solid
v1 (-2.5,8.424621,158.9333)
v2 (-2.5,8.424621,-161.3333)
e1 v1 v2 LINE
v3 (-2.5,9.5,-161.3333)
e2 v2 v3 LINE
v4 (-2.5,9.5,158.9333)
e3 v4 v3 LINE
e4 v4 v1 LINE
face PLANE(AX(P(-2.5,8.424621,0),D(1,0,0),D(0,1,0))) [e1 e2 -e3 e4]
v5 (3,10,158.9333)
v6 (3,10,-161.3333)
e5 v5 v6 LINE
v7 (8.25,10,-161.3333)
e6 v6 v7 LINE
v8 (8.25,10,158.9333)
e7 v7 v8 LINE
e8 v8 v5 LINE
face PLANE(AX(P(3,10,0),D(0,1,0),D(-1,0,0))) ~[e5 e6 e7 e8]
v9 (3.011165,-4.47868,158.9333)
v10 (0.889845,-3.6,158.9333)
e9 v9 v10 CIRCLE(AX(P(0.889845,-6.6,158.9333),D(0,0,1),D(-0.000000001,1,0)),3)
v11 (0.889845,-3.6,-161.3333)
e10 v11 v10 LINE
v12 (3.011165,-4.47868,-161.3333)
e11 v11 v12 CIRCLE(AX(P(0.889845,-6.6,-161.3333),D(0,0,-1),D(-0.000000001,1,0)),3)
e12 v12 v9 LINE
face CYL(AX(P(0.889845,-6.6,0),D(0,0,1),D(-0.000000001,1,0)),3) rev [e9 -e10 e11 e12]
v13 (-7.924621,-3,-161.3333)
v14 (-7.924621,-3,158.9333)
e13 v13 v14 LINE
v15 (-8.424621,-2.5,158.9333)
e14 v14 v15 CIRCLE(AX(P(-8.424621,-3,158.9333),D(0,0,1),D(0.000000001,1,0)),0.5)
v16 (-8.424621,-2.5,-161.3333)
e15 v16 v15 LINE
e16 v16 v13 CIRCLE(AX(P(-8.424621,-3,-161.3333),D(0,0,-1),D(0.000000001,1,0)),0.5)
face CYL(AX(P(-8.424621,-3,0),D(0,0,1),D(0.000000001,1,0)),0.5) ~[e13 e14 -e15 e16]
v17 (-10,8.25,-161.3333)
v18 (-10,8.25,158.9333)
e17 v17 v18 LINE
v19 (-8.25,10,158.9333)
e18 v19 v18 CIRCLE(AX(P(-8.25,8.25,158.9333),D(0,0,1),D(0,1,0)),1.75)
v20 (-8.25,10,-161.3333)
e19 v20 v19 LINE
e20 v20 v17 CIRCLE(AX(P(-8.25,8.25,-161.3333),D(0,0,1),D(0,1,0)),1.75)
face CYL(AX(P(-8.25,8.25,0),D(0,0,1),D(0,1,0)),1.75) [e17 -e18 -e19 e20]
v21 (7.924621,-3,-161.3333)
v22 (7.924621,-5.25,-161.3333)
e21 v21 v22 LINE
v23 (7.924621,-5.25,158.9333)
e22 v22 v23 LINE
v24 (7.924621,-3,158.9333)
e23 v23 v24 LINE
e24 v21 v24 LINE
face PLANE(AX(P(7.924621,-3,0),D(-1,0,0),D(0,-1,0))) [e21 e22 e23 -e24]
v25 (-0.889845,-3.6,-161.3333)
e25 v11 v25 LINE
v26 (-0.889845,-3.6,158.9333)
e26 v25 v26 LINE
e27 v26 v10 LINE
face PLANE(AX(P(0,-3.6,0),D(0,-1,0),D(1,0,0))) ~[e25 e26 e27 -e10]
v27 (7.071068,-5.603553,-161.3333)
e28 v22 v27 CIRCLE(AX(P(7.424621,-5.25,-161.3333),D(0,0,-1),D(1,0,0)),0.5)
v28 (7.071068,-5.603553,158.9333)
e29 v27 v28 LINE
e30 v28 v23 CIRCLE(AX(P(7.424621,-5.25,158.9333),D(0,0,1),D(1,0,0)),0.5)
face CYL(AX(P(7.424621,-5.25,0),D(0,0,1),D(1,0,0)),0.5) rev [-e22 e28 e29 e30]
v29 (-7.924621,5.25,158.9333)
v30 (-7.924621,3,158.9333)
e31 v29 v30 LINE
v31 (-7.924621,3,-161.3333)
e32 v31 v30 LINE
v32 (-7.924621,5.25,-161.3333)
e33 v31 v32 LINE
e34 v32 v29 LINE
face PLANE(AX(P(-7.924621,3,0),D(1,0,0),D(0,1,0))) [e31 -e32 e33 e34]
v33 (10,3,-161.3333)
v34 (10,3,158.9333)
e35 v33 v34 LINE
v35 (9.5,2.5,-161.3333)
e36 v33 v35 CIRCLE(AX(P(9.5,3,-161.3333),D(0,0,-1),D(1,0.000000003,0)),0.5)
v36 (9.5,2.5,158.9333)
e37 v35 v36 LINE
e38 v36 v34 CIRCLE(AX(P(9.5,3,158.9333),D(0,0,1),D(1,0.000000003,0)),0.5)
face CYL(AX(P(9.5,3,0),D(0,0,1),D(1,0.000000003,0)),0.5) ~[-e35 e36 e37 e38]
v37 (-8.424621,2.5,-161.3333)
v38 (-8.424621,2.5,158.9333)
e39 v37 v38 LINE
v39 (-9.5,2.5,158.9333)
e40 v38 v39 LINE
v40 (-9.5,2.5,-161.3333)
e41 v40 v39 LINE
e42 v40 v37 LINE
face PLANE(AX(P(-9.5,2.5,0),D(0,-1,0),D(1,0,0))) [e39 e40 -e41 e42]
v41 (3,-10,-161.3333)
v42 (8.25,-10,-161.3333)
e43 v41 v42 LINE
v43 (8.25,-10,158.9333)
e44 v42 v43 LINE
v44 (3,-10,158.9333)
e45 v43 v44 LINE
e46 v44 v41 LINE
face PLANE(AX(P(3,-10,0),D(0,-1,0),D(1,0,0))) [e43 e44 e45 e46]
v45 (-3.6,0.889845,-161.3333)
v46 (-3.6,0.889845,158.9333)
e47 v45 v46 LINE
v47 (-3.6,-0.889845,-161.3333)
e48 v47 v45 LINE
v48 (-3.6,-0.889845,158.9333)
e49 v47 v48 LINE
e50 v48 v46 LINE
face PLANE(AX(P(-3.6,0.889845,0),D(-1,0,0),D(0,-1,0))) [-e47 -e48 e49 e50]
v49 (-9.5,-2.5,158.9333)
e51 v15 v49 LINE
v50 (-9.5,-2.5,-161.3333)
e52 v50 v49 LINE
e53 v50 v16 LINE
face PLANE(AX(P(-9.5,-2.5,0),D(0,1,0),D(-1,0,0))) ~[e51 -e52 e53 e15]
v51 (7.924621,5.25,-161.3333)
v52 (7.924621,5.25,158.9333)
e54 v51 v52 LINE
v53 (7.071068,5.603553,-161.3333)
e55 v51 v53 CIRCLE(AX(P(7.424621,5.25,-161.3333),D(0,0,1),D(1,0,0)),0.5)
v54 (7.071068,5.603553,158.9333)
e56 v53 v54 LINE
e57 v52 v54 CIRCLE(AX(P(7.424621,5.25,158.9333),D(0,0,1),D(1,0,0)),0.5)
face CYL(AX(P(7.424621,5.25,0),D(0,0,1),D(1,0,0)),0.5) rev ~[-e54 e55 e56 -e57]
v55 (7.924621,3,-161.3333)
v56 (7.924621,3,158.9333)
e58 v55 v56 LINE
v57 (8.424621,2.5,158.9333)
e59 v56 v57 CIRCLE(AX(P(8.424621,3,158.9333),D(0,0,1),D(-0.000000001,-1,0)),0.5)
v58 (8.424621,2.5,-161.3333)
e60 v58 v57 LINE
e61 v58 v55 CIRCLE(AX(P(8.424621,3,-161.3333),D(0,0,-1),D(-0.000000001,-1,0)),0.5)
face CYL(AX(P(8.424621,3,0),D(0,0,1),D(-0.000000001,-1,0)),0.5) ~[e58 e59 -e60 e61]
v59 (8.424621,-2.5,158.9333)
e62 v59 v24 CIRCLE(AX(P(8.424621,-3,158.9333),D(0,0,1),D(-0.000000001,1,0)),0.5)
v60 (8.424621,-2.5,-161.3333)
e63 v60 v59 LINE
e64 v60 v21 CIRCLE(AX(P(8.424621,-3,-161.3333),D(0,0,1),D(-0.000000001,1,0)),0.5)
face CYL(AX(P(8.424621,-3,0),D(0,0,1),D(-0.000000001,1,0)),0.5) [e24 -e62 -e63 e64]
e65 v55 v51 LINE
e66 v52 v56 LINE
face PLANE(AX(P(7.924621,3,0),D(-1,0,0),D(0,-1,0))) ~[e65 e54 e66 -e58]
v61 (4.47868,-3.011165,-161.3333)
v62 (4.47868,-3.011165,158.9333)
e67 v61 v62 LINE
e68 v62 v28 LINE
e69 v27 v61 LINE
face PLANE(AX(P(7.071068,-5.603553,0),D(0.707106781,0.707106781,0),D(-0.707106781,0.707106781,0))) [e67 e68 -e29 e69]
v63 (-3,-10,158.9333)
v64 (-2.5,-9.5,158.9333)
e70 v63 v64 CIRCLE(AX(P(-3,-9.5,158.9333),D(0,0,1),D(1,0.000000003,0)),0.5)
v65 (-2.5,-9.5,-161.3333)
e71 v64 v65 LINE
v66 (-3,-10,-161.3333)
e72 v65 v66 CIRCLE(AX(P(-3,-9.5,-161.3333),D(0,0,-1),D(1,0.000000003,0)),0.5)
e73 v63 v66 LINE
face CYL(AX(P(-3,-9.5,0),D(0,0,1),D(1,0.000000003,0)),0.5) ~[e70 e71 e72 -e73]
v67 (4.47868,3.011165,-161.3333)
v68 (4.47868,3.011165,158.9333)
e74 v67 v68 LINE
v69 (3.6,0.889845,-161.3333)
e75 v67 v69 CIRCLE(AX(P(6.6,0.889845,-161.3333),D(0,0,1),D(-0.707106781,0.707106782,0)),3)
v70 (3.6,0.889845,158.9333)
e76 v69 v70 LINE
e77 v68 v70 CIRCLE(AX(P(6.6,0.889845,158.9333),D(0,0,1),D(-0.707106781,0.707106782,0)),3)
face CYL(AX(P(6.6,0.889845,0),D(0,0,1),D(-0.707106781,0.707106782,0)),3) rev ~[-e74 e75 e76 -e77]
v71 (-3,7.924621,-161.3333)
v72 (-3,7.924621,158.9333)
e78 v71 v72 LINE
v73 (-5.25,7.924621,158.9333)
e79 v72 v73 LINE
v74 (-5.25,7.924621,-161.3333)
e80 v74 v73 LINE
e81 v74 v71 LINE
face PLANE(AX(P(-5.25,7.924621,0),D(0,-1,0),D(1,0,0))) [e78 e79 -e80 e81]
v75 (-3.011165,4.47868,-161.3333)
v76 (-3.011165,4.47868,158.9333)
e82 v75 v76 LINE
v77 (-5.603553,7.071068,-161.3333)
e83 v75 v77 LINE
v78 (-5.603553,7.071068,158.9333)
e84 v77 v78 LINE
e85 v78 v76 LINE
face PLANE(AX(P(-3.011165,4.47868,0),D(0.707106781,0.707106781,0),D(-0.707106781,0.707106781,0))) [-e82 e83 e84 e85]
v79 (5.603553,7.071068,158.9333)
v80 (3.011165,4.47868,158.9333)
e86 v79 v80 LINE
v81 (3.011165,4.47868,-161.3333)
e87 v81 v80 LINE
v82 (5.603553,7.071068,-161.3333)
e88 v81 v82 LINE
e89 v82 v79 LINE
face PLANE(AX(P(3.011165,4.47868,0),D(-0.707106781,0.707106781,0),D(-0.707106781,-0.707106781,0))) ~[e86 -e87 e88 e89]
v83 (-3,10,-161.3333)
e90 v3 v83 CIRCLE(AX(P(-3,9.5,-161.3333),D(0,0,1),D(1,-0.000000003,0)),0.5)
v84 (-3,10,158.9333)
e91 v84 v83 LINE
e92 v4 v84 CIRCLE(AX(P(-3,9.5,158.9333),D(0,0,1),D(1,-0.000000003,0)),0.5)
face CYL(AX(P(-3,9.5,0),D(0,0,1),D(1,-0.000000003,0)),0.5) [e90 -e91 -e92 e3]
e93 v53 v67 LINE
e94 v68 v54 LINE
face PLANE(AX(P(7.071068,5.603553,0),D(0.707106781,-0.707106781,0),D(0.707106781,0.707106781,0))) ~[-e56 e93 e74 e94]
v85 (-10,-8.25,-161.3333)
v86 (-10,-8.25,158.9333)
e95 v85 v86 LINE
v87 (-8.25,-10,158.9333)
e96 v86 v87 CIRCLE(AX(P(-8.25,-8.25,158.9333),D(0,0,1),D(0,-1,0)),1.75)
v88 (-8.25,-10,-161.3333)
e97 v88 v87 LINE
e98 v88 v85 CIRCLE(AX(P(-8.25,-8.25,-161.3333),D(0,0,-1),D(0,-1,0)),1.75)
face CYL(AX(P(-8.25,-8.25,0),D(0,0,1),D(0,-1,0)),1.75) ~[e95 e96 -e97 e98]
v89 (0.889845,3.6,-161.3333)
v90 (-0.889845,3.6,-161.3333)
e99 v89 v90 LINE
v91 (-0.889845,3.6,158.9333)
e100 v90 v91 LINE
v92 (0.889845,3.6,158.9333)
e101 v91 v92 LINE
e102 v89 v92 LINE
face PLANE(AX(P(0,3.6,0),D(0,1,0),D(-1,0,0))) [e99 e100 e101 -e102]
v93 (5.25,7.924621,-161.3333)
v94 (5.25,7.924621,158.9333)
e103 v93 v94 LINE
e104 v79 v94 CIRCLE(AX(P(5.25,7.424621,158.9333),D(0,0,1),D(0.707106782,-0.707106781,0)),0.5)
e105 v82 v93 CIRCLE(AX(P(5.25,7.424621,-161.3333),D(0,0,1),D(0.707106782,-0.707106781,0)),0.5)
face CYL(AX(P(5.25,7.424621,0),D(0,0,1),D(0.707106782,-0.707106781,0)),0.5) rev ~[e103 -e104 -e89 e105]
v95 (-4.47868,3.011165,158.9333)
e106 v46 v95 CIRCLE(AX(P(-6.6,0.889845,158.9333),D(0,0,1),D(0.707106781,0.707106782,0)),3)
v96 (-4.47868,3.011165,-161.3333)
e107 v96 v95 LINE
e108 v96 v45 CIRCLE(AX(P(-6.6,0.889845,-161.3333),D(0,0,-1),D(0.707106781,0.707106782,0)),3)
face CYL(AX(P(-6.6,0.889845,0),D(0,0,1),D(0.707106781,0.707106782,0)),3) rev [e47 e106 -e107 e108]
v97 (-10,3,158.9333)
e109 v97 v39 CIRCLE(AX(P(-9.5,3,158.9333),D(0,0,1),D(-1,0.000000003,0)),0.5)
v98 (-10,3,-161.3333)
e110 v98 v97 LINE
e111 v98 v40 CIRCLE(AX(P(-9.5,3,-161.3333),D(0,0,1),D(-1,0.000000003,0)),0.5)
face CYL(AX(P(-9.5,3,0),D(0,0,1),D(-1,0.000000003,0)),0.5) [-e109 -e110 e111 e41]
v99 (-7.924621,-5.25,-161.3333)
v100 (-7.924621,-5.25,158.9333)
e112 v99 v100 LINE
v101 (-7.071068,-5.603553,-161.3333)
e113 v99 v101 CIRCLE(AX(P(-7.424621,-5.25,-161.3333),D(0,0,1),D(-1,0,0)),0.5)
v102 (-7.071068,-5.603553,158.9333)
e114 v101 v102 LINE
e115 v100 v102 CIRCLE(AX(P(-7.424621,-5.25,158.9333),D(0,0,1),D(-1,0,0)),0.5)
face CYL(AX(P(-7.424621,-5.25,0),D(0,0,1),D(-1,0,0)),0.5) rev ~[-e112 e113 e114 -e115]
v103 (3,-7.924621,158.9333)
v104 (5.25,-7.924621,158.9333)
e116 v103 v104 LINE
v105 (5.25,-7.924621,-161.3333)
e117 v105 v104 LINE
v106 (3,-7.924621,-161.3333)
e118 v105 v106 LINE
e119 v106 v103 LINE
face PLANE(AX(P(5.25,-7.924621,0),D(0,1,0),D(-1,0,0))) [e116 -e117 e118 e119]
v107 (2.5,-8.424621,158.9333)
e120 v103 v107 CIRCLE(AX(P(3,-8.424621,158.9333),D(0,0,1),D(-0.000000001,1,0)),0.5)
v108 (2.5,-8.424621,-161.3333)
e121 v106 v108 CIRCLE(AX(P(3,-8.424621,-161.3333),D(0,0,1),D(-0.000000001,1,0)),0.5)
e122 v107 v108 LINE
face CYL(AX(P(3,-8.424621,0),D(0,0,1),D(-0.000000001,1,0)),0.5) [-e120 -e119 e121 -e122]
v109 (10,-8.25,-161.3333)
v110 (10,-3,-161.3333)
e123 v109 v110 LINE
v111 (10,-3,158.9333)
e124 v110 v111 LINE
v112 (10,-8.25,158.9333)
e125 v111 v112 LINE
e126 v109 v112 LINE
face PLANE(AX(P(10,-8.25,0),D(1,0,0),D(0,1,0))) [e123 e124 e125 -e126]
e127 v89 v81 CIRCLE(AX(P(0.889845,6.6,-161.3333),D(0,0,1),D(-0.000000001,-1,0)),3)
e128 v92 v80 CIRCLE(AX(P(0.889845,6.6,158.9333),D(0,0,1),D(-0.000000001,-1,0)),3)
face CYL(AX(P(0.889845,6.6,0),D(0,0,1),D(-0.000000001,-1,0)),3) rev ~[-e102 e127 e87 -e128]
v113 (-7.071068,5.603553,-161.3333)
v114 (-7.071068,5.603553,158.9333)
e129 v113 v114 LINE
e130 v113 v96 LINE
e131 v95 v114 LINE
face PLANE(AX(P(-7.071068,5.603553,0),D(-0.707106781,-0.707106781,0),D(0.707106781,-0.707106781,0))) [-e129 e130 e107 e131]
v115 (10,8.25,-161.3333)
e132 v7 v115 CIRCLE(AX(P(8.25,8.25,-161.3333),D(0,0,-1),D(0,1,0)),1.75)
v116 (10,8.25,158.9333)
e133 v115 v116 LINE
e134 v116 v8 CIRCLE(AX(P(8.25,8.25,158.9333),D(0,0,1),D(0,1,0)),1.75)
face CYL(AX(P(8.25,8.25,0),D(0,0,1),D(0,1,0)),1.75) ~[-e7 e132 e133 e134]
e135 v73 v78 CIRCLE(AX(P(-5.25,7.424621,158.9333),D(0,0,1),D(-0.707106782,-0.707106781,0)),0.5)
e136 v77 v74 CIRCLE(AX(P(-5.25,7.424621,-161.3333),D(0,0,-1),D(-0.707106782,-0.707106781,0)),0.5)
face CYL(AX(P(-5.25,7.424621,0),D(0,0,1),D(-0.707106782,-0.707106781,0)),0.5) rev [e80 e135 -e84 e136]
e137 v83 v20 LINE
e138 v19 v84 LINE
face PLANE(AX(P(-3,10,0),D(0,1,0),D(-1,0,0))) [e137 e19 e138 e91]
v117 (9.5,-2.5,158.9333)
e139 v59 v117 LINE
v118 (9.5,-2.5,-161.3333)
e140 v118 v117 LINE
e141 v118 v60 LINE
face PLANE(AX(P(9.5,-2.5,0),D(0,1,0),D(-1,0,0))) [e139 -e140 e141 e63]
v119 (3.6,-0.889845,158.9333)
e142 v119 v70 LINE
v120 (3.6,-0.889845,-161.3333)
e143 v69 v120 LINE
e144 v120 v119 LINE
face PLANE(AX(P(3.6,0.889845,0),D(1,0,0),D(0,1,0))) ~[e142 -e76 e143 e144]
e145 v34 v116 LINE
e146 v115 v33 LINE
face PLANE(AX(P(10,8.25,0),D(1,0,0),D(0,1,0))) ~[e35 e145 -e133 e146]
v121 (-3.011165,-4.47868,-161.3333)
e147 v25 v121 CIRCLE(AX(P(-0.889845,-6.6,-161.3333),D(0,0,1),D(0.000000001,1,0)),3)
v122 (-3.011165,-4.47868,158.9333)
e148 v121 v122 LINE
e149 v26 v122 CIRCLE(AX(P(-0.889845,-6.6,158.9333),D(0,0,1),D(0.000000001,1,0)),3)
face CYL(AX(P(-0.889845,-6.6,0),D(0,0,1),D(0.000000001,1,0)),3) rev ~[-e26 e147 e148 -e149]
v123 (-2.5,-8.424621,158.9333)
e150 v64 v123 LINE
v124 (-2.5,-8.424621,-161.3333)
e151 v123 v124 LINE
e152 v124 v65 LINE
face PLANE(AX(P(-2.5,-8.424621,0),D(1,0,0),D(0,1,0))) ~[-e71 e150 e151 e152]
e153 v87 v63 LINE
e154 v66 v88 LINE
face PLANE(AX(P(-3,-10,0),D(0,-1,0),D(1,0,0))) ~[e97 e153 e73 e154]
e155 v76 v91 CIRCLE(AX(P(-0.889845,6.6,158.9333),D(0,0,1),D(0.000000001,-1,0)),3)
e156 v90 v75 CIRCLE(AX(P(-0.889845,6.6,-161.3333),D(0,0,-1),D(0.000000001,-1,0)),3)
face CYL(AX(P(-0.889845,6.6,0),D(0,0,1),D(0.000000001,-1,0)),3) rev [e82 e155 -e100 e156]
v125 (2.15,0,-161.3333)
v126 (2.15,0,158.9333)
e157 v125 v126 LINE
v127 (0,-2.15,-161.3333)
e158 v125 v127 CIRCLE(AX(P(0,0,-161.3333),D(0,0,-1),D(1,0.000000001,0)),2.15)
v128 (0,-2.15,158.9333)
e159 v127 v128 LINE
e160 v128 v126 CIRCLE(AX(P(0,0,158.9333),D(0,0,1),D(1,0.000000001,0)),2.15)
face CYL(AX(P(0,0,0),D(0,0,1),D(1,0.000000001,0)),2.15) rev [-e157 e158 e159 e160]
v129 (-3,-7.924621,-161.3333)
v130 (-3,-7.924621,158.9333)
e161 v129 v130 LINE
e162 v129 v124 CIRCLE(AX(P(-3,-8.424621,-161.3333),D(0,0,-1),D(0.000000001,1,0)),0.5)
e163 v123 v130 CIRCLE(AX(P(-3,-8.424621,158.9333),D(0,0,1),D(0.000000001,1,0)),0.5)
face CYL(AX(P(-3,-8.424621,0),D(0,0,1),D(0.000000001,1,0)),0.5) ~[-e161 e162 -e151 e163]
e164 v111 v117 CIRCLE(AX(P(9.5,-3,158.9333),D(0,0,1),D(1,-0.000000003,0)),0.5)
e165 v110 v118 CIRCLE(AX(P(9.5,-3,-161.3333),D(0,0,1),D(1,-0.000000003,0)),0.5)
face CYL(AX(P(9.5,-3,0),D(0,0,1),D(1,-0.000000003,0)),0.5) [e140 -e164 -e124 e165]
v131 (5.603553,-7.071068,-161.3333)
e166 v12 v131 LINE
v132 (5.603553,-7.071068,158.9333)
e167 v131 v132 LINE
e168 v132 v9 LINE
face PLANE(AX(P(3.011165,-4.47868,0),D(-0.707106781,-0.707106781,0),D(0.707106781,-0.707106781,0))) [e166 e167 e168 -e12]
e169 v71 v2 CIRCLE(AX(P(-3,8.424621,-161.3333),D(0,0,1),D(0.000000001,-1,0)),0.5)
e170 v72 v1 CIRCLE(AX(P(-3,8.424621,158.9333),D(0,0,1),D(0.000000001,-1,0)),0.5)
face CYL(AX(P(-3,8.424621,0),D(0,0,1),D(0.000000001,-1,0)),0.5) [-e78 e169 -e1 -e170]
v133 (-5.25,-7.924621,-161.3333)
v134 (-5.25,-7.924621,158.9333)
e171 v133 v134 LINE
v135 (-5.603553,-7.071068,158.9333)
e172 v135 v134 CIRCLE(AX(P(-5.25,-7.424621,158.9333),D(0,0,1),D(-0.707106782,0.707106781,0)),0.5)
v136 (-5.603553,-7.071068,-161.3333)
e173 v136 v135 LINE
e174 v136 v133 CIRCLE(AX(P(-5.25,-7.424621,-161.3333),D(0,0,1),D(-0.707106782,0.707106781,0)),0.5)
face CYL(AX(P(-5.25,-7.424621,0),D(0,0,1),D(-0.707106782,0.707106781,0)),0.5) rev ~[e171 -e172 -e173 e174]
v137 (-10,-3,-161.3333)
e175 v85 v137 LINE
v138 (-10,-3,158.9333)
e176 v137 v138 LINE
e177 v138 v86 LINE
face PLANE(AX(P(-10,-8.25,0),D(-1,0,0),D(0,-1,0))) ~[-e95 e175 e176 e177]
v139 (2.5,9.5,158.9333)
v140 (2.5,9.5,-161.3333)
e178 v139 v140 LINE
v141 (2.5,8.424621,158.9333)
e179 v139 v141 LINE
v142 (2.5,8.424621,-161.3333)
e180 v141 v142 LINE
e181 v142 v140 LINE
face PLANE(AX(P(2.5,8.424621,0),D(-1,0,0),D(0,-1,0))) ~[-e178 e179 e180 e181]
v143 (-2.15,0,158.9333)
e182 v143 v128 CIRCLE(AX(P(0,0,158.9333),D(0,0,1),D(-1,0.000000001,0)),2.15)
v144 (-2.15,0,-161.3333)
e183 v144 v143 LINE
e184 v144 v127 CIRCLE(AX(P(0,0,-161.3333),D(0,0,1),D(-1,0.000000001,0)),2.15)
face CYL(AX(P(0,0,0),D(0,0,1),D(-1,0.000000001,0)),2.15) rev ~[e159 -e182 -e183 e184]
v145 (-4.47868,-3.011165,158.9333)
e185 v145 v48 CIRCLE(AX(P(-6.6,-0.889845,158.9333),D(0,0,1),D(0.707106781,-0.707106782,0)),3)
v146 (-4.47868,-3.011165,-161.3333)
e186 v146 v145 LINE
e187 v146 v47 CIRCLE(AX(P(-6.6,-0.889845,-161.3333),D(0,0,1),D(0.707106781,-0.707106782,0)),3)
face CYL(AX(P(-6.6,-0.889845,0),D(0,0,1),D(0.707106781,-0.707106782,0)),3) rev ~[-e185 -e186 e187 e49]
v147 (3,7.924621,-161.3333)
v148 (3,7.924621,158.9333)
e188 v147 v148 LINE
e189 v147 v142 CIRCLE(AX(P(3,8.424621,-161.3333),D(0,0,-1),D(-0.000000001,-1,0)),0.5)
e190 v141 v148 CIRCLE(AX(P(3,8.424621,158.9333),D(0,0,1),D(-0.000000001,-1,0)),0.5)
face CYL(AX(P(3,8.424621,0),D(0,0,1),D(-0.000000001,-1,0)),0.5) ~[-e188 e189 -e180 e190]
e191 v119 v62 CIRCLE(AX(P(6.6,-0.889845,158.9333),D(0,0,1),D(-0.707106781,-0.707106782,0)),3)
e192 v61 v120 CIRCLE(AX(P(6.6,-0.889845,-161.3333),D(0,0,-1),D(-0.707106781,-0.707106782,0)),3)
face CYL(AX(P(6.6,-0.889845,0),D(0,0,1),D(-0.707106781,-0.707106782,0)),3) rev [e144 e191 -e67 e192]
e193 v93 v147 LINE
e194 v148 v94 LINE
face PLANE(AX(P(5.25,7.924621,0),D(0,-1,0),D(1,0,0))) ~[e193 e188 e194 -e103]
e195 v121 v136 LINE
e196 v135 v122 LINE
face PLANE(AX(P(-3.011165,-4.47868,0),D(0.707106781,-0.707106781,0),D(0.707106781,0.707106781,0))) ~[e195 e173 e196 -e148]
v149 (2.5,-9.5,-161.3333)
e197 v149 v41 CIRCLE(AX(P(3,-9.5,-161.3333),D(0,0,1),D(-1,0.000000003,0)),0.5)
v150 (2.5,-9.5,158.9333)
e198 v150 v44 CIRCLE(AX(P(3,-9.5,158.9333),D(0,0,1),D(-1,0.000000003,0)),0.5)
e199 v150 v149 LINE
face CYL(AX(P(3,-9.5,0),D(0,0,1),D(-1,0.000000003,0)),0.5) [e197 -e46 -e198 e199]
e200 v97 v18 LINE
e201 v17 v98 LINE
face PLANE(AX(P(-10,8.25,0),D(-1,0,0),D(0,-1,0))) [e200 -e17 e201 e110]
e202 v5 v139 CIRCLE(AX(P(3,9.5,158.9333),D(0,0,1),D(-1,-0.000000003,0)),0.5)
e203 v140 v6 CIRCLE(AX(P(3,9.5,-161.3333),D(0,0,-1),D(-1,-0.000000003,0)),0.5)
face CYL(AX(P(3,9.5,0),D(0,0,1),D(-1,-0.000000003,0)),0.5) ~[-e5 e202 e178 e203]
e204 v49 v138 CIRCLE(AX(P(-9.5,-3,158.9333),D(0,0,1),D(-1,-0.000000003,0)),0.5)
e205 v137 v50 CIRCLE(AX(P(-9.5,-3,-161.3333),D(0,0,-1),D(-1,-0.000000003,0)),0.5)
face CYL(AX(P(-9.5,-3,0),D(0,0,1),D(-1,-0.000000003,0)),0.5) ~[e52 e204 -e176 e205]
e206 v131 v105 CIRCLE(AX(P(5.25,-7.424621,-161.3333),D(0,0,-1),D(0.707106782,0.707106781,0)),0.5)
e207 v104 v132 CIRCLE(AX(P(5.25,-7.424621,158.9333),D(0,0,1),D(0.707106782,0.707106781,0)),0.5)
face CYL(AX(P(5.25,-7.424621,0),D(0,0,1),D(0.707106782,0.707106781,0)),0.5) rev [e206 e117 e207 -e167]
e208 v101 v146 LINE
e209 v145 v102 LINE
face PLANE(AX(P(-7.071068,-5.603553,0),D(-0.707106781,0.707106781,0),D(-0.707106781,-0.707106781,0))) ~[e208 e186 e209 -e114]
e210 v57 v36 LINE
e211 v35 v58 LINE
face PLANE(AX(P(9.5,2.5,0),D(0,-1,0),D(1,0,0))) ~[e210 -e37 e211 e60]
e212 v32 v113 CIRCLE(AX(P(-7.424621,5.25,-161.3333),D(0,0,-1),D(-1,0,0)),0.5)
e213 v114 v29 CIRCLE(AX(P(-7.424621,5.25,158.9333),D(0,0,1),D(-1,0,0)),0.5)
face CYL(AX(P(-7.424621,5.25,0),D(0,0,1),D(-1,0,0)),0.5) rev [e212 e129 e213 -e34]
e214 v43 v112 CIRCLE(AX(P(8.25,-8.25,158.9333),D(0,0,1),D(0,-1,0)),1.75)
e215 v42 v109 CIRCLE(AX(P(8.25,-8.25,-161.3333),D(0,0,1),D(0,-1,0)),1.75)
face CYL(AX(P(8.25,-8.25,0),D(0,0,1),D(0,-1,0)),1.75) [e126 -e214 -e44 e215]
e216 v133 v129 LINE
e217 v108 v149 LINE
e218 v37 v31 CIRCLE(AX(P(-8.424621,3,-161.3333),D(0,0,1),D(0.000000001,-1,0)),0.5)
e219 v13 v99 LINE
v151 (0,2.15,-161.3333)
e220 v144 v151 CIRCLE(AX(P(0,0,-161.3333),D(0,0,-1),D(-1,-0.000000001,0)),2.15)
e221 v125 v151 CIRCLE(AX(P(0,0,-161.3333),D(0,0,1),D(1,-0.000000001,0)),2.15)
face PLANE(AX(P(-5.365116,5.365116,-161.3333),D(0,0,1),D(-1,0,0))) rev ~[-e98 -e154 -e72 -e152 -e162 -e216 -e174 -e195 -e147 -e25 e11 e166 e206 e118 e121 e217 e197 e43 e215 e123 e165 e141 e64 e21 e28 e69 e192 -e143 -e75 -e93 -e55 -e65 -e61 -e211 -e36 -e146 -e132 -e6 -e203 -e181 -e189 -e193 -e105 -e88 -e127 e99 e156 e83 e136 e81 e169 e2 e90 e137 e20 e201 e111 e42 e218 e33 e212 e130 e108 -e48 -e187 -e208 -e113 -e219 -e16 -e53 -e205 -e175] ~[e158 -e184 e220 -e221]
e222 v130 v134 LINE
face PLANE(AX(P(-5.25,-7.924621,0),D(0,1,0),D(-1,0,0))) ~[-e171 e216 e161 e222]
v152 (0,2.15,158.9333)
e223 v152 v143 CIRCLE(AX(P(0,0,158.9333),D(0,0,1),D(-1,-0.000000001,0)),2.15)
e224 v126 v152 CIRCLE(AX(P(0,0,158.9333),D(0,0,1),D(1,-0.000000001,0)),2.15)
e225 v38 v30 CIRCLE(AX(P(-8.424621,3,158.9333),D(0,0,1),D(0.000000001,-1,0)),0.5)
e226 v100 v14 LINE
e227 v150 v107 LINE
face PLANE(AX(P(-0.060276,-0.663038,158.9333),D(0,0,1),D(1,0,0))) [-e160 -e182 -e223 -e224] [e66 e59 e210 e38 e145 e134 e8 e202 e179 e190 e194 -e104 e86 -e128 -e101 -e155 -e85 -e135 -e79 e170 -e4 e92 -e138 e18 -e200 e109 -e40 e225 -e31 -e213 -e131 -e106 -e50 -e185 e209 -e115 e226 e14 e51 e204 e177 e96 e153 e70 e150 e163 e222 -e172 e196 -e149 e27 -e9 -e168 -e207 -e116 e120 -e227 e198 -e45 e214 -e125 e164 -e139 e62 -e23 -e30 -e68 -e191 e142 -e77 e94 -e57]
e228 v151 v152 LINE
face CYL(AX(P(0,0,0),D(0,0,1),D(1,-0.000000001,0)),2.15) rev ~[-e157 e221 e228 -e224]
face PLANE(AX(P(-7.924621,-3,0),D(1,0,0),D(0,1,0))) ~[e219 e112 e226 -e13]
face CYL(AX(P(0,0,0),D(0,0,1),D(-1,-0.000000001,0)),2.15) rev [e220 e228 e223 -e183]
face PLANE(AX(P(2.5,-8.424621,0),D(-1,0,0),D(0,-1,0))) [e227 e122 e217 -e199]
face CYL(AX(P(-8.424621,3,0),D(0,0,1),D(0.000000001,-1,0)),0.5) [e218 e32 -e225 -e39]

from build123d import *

# Parameters (mm, degrees)
BOSS_EXTRUDE1_DEPTH = 161.3333
SKETCH5_W           = 27.787302718
SKETCH5_H           = 26.03929452
CUT_EXTRUDE1_DEPTH  = 2.4


with BuildPart() as part:
    # Sketch4 → Boss-Extrude1 (new, symmetric)
    with BuildSketch(Plane.XY):
        with BuildLine():
            Line((3, -10), (8.25, -10))
            ThreePointArc((8.25, -10), (9.487436867, -9.487436867), (10, -8.25))
            Line((10, -8.25), (10, -3))
            ThreePointArc((10, -3), (9.853553391, -2.646446609), (9.5, -2.5))
            Line((9.5, -2.5), (8.424621202, -2.5))
            ThreePointArc((8.424621202, -2.5), (8.071067812, -2.646446609), (7.924621202, -3))
            Line((7.924621202, -3), (7.924621202, -5.25))
            ThreePointArc((7.924621202, -5.25), (7.615962919, -5.711939766), (7.071067812, -5.603553391))
            Line((7.071067812, -5.603553391), (4.478679656, -3.011165235))
            ThreePointArc((4.478679656, -3.011165235), (3.828361402, -2.037895189), (3.6, -0.889844892))
            Line((3.6, -0.889844892), (3.6, 0))
            Line((3.6, 0), (2.15, 0))
            ThreePointArc((2.15, 0), (1.52027958, -1.52027958), (0, -2.15))
            Line((0, -2.15), (0, -3.6))
            Line((0, -3.6), (0.889844892, -3.6))
            ThreePointArc((0.889844892, -3.6), (2.037895189, -3.828361402), (3.011165235, -4.478679656))
            Line((3.011165235, -4.478679656), (5.603553391, -7.071067812))
            ThreePointArc((5.603553391, -7.071067812), (5.711939766, -7.615962919), (5.25, -7.924621202))
            Line((5.25, -7.924621202), (3, -7.924621202))
            ThreePointArc((3, -7.924621202), (2.646446609, -8.071067812), (2.5, -8.424621202))
            Line((2.5, -8.424621202), (2.5, -9.5))
            ThreePointArc((2.5, -9.5), (2.646446609, -9.853553391), (3, -10))
        make_face()
    extrude(amount=BOSS_EXTRUDE1_DEPTH, both=True)

    # Mirror1: part across plane


with BuildPart() as part_1:
    add(part.part)
    add(part.part.mirror(Plane(origin=(0, 0, 0), x_dir=(0, 0, 1), z_dir=(1, 0, 0))))

    # Mirror2: part across plane


with BuildPart() as part_2:
    add(part_1.part)
    add(part_1.part.mirror(Plane.ZX))

    # Sketch5 → Cut-Extrude1 (cut)
    with BuildSketch(Plane.XY.offset(161.3333)):
        with Locations((-0.060276145, -0.663037592)):
            Rectangle(SKETCH5_W, SKETCH5_H)
    extrude(amount=-CUT_EXTRUDE1_DEPTH, mode=Mode.SUBTRACT)


solid = part_2.part
